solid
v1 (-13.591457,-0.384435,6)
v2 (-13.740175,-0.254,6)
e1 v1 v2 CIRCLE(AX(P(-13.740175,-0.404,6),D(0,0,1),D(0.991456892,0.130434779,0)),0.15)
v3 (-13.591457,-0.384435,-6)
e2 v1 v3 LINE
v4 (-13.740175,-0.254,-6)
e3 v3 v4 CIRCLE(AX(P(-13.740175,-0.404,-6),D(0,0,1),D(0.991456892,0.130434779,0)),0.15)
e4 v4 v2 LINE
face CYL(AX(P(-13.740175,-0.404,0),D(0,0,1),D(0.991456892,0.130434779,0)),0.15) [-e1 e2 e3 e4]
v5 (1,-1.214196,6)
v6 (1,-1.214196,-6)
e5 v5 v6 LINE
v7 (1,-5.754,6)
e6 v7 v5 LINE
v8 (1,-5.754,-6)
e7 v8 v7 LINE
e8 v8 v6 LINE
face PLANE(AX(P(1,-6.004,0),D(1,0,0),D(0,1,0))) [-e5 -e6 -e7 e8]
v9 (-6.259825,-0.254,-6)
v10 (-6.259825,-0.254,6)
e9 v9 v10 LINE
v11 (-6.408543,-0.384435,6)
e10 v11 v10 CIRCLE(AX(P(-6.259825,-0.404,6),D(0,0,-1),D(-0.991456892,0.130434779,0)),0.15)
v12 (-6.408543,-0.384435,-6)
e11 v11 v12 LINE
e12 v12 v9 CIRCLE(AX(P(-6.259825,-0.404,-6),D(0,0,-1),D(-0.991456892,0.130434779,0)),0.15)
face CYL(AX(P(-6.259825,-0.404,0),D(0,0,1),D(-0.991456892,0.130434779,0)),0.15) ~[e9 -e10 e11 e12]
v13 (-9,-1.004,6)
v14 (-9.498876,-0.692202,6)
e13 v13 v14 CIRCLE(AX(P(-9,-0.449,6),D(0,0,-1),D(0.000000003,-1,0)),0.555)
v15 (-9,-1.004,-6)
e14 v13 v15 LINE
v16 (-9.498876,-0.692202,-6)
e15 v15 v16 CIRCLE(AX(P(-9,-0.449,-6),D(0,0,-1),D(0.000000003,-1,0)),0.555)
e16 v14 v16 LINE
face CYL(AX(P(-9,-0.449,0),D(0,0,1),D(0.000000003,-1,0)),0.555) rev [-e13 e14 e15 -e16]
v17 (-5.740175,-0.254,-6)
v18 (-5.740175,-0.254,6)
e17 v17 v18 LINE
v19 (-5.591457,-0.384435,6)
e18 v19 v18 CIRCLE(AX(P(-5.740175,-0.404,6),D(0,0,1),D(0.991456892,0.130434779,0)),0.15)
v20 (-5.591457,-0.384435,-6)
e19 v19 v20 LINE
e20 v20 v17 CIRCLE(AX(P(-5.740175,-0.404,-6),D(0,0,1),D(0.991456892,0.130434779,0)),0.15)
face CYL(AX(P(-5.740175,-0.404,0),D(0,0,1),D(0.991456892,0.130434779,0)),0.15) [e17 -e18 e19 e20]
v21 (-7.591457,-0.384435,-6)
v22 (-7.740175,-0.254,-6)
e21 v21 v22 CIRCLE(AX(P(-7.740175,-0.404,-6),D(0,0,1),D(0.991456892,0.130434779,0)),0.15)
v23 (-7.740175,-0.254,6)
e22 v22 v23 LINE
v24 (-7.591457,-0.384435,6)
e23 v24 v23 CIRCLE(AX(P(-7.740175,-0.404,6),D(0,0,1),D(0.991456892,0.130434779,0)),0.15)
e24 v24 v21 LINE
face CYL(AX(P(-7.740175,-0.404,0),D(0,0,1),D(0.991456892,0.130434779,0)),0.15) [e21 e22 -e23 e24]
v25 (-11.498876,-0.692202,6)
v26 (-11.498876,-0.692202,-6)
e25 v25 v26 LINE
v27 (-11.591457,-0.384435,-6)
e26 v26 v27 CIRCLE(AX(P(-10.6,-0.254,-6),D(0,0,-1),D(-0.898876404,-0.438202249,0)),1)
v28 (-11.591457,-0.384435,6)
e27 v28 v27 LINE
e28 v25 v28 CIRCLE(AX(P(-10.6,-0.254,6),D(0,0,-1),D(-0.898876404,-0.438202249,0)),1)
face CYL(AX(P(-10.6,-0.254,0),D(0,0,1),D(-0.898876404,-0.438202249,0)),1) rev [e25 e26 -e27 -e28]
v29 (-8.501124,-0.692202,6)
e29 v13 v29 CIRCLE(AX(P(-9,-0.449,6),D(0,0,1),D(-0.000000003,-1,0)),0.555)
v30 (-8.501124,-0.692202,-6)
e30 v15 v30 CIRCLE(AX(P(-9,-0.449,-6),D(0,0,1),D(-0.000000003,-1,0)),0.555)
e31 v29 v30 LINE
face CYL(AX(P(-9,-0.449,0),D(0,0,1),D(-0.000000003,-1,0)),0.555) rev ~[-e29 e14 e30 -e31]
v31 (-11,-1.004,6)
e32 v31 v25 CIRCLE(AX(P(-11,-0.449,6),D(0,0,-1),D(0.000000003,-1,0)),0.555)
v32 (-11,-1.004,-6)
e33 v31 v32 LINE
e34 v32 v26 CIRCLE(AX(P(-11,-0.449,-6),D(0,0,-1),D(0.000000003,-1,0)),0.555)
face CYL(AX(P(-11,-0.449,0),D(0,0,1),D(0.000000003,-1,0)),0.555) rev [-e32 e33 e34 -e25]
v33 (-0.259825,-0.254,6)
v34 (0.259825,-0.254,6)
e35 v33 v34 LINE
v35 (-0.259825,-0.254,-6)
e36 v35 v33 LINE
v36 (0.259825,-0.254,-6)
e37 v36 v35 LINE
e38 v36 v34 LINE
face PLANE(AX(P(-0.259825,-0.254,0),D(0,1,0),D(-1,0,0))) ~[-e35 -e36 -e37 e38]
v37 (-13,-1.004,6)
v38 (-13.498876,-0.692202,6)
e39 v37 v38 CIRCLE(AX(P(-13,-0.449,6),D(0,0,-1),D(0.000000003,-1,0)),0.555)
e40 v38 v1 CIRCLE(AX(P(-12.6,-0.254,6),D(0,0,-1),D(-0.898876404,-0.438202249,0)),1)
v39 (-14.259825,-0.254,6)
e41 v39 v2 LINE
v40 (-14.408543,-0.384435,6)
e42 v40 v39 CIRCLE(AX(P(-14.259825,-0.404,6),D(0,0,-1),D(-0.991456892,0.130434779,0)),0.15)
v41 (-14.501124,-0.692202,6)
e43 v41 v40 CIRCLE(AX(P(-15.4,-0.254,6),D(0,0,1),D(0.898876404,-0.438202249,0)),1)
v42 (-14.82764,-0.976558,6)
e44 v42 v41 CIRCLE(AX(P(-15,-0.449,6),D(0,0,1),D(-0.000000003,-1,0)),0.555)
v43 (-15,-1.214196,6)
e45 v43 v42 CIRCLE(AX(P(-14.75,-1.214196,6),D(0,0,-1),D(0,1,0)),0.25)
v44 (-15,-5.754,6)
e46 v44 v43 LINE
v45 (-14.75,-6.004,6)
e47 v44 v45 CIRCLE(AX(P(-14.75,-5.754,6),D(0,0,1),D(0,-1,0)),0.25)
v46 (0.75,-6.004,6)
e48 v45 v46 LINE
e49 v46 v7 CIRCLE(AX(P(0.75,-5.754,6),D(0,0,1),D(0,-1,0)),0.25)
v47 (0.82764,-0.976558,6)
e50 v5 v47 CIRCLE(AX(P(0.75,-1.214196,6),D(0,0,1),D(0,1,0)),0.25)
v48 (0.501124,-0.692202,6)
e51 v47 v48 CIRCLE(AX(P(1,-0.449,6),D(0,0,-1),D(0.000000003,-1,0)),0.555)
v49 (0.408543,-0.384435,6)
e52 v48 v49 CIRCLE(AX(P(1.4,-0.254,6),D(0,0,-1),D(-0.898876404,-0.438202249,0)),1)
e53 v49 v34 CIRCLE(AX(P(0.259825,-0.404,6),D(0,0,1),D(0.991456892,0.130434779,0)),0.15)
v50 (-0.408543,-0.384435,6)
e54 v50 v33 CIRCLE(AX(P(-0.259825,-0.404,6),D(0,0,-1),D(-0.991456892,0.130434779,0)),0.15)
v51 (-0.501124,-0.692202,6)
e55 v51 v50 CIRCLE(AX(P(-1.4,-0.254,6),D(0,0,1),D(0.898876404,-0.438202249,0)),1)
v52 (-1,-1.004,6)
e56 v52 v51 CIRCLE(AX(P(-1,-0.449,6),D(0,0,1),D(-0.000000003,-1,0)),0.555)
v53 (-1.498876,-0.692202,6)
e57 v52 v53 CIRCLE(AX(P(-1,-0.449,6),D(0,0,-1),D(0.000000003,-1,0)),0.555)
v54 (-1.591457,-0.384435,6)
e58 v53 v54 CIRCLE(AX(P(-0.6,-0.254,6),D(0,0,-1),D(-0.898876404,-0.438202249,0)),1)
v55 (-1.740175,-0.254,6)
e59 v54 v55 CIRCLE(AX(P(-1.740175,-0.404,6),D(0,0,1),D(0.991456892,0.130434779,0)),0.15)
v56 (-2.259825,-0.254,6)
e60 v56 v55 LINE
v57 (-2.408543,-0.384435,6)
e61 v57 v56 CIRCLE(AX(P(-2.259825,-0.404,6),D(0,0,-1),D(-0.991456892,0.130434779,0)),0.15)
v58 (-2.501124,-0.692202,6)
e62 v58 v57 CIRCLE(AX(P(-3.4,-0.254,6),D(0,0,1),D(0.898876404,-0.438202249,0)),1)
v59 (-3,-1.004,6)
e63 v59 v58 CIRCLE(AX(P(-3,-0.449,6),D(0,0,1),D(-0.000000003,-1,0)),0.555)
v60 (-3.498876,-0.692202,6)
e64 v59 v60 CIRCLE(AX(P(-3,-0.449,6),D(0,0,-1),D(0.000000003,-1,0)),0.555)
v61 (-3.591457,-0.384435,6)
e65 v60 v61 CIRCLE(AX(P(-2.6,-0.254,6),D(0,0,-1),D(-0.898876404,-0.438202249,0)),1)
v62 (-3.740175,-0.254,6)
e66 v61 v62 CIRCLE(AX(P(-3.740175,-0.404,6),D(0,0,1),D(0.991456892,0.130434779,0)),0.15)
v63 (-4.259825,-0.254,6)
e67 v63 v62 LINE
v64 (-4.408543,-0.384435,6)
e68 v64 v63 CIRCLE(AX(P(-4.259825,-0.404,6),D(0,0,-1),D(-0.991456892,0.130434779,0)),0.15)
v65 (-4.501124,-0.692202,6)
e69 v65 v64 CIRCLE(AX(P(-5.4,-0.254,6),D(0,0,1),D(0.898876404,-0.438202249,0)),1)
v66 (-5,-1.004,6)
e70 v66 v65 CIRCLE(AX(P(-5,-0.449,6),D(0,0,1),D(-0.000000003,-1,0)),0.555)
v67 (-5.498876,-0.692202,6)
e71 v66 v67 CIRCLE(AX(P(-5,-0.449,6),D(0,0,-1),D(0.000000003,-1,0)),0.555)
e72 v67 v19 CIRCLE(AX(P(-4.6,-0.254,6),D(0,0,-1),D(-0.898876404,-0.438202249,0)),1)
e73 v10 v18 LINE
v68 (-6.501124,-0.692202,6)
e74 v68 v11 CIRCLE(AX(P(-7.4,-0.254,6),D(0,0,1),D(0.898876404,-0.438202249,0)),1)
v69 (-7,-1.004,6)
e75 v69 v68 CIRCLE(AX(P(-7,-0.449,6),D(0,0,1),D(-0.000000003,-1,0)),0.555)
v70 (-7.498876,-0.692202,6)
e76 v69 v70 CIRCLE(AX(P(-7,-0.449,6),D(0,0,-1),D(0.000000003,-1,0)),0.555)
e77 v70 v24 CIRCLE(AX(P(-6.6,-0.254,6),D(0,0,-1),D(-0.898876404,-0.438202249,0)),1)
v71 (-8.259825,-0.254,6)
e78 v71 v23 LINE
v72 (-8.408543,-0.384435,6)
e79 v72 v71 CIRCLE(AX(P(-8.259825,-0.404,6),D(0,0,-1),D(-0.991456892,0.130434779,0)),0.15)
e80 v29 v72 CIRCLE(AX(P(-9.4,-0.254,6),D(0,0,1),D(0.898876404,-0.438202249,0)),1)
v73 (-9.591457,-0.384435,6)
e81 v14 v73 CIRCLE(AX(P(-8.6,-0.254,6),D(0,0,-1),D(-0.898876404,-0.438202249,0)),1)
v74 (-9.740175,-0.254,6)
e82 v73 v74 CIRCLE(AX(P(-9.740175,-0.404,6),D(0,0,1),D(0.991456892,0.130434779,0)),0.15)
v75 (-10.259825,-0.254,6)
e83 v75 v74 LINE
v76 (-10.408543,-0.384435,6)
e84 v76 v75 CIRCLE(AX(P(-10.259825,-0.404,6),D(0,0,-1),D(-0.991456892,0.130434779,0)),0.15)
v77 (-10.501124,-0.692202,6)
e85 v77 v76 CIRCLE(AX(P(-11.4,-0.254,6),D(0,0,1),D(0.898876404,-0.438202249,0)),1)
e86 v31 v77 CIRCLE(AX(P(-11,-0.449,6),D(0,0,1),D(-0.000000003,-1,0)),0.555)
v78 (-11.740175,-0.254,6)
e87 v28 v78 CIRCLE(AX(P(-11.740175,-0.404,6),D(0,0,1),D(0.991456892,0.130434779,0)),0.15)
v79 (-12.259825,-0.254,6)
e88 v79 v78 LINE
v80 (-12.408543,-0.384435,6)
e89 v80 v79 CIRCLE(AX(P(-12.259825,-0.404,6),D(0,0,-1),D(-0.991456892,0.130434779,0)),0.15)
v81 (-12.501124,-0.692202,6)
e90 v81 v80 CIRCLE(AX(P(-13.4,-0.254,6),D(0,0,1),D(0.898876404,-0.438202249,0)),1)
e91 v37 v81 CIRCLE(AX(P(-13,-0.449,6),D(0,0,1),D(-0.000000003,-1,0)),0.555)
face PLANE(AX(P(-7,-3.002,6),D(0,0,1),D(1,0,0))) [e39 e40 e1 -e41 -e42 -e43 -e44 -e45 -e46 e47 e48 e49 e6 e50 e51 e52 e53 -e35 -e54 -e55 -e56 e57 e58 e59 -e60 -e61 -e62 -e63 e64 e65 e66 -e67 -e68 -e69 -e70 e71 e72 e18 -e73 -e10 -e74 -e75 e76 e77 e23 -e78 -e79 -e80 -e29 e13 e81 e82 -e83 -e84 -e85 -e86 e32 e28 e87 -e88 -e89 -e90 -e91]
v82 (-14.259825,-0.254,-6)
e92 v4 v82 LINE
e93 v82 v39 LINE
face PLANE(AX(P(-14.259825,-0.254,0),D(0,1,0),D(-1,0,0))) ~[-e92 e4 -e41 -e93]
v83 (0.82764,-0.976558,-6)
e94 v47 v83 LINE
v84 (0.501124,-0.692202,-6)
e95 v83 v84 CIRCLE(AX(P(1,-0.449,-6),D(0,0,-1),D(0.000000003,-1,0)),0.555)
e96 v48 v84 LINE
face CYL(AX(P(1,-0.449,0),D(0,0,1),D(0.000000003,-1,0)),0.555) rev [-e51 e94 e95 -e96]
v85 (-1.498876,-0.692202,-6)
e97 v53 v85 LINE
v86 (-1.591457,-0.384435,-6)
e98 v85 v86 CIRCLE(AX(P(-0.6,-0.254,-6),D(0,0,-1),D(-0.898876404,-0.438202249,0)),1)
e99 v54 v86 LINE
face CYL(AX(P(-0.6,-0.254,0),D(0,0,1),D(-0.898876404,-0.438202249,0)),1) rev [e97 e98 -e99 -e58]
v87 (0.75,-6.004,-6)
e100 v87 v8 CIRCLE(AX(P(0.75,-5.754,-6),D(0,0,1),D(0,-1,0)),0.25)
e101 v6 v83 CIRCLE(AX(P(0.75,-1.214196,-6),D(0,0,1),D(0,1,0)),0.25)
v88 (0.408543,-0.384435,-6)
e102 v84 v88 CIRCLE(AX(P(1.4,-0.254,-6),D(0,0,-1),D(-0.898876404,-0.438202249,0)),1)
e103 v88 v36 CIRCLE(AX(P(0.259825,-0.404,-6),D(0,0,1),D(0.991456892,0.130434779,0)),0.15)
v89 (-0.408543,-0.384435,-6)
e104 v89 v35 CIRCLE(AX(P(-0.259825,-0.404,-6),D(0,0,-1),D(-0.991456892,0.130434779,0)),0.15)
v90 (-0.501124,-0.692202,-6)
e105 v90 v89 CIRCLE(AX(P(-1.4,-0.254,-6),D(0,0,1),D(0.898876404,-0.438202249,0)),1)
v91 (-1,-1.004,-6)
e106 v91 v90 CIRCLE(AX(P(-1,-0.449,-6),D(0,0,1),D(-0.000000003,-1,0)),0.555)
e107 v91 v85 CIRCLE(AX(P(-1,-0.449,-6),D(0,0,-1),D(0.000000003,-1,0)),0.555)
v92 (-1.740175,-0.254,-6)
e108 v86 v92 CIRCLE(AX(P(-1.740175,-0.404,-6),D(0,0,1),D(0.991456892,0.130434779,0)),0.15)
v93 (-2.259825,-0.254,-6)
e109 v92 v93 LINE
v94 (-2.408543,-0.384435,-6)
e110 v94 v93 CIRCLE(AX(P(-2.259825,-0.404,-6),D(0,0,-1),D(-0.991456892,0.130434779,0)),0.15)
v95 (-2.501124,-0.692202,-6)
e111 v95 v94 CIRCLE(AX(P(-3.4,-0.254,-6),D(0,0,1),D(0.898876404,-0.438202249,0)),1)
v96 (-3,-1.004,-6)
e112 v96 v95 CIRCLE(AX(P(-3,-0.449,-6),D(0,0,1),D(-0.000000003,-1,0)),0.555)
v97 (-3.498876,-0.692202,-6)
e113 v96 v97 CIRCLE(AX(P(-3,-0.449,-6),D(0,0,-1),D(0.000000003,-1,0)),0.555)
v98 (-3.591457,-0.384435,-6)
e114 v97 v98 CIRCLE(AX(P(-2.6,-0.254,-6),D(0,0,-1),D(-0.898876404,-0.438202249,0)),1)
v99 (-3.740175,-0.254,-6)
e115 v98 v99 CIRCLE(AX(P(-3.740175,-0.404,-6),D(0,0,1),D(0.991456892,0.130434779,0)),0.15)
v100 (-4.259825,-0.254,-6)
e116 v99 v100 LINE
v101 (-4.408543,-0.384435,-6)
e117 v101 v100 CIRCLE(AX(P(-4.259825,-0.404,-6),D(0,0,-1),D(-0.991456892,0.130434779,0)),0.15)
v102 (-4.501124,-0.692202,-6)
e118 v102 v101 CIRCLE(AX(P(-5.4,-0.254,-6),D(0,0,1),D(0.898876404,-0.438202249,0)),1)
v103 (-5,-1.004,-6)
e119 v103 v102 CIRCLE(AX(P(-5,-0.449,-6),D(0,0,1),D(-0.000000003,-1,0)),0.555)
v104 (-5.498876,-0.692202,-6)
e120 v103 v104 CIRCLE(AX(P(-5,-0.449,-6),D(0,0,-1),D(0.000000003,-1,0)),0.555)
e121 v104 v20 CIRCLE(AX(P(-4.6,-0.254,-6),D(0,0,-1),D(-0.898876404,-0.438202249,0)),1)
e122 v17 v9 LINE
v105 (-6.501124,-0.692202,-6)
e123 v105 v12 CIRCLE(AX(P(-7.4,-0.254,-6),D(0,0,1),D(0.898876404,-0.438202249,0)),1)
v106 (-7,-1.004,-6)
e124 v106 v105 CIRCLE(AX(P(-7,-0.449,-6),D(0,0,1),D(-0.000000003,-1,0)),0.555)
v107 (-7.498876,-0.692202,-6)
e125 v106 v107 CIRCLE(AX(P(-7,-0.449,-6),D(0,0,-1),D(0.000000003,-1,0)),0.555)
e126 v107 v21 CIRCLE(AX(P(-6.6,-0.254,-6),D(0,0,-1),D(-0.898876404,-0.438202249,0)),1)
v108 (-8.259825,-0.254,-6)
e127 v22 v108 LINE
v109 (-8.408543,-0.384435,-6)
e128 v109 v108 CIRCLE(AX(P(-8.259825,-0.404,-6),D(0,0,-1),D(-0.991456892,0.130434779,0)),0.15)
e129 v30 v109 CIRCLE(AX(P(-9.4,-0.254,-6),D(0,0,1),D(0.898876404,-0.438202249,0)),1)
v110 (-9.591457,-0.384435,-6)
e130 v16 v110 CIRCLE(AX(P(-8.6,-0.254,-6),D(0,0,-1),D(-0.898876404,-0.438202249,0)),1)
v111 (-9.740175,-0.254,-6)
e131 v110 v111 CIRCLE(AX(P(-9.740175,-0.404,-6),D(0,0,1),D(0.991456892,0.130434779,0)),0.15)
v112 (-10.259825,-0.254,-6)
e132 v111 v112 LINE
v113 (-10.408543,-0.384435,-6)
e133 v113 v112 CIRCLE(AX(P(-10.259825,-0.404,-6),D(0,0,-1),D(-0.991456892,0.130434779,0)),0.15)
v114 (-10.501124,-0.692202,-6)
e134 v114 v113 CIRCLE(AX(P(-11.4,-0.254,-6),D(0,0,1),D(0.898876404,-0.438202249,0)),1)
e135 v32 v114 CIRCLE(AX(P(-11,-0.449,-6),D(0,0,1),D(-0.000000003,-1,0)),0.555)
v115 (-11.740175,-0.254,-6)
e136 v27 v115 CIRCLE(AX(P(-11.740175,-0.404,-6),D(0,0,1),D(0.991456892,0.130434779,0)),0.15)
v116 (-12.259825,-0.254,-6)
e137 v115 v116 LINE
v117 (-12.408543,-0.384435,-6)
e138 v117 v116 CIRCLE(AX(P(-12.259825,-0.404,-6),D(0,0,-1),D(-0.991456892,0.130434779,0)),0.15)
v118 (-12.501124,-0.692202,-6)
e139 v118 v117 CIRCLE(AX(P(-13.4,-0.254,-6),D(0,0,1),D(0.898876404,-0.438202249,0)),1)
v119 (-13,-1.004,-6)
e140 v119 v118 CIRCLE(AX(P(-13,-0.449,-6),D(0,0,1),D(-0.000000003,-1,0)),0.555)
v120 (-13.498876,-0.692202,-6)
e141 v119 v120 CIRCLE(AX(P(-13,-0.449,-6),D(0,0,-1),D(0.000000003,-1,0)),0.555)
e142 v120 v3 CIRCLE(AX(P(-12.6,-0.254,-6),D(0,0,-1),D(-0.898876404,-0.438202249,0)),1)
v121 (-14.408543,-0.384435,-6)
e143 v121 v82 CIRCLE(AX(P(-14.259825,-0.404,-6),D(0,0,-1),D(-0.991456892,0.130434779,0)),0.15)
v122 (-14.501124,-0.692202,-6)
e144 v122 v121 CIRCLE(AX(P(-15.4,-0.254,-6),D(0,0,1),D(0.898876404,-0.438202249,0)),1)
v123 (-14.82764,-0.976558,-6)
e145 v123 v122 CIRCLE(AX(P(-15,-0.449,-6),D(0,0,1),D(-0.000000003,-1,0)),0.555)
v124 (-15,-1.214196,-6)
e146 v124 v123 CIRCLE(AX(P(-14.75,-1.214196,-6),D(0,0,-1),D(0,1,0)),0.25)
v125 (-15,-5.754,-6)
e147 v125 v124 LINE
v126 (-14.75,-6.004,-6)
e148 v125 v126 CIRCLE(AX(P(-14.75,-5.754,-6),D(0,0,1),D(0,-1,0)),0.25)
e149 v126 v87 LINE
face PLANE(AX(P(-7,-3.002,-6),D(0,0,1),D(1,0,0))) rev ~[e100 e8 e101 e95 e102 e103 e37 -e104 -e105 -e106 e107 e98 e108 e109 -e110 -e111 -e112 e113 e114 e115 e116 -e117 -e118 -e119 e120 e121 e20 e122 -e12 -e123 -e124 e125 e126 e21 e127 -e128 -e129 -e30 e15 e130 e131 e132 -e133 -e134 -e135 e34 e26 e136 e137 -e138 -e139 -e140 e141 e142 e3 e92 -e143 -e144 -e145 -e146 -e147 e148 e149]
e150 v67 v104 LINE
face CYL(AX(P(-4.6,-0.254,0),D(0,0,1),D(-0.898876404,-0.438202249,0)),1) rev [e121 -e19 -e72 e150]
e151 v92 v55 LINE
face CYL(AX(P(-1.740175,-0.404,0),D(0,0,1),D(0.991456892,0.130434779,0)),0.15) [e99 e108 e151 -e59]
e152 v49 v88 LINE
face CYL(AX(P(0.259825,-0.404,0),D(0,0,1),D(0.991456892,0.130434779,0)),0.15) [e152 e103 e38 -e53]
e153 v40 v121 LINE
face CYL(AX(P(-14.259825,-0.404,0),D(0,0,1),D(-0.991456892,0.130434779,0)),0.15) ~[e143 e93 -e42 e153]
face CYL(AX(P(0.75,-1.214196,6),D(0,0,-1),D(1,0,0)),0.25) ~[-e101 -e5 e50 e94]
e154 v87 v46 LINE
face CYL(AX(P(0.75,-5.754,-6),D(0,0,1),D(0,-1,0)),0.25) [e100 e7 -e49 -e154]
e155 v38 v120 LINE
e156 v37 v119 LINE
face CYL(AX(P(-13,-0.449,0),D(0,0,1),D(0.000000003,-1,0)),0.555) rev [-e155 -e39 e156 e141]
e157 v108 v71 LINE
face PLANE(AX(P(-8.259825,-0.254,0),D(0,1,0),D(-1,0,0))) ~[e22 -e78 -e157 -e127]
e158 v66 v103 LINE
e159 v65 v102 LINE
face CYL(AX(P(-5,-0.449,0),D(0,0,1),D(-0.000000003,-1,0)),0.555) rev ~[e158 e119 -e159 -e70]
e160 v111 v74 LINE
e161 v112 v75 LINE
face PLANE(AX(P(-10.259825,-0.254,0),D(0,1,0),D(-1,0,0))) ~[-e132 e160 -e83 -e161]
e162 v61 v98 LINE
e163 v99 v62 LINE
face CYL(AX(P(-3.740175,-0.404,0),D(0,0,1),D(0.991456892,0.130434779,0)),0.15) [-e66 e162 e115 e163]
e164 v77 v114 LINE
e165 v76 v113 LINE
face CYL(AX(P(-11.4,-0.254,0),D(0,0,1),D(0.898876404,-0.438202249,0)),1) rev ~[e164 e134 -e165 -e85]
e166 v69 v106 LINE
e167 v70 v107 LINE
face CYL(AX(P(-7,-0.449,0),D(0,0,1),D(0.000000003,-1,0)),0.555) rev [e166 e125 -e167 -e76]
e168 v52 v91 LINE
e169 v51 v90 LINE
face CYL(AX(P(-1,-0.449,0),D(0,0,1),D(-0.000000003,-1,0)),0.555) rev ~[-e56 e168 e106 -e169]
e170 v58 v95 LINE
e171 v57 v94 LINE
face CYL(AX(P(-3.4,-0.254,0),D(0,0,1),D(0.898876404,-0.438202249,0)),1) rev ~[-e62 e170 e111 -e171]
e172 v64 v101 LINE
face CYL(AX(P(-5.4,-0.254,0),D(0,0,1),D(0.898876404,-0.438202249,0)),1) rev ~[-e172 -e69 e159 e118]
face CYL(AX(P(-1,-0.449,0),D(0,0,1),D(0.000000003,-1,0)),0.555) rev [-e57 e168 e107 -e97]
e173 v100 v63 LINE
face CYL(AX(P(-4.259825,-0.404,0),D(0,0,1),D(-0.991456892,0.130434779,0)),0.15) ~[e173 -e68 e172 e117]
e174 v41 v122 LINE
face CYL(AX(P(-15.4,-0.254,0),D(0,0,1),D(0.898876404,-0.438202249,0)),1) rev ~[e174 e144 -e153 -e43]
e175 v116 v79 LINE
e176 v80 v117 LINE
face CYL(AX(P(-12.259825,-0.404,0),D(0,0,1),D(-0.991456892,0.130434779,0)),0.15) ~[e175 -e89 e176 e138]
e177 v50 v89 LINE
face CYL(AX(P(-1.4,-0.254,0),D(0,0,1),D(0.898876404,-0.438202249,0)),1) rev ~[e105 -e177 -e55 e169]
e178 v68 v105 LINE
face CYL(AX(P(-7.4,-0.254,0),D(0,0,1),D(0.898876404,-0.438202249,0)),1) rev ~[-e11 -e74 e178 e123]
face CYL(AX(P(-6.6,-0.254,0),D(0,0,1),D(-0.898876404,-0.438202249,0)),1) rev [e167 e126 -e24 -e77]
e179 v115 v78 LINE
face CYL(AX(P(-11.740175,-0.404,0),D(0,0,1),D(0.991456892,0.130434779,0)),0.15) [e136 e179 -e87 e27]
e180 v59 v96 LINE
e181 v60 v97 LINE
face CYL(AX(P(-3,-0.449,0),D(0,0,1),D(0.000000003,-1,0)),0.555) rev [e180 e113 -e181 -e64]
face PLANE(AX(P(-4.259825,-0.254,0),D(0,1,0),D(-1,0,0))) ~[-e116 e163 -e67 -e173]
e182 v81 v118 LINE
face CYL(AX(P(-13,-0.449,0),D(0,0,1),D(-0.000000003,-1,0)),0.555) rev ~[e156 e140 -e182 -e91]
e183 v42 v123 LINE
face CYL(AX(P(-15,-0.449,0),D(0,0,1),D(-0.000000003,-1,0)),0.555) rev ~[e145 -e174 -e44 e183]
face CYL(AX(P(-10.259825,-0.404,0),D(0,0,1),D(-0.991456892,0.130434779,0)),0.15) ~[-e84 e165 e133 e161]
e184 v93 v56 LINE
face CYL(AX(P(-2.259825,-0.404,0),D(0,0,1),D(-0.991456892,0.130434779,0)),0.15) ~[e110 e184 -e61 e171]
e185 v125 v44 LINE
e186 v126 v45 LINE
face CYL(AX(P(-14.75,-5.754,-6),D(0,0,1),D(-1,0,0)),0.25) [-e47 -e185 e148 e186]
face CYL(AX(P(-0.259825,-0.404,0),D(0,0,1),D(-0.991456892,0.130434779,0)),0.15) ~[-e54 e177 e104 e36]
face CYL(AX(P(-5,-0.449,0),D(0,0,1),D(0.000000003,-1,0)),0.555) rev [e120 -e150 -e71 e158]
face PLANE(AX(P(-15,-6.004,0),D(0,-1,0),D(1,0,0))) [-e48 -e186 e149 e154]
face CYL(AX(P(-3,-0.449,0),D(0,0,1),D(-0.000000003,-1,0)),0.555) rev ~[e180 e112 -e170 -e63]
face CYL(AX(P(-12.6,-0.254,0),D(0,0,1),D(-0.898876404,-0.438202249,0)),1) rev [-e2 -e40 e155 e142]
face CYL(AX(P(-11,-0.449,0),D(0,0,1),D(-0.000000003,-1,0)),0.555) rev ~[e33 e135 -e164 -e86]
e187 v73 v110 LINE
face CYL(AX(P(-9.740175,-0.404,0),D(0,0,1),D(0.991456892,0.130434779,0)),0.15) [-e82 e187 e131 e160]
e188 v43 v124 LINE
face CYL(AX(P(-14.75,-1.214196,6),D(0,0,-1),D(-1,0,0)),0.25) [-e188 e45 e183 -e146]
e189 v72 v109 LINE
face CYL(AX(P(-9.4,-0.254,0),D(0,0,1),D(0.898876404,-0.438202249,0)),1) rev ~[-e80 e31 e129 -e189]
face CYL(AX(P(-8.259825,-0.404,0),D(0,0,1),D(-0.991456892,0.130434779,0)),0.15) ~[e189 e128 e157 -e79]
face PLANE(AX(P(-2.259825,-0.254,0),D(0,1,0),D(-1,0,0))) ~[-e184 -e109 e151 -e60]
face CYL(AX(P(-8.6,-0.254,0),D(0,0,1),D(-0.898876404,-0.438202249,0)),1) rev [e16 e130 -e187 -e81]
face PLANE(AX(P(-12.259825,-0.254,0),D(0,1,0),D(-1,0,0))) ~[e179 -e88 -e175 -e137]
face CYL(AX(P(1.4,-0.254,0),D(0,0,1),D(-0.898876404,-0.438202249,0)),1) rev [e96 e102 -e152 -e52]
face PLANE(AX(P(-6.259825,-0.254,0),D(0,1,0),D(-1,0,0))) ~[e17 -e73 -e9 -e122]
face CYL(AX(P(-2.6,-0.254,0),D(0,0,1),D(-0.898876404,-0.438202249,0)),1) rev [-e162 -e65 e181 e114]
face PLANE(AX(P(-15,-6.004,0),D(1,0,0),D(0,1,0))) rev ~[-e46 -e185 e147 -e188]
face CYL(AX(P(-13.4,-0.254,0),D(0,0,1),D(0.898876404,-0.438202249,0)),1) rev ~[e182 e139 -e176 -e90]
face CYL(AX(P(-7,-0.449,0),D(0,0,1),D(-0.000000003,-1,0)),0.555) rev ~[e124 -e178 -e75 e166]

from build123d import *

# Parameters (mm, degrees)
BOSS_EXTRUDE1_DEPTH = 6
LPATTERN1_COUNT     = 8
LPATTERN1_PITCH     = 2
SKETCH4_W           = 16
SKETCH4_H           = 6.004
BOSS_EXTRUDE3_DEPTH = 6
FILLET1_R           = 0.25


with BuildPart() as part:
    # Sketch1 → Boss-Extrude1 (new, symmetric)
    with BuildSketch(Plane.XY):
        with BuildLine():
            Line((0, 0), (1, 0))
            Line((1, 0), (1, -1.004))
            ThreePointArc((1, -1.004), (0.705850588, -0.919639059), (0.501123596, -0.692202247))
            ThreePointArc((0.501123596, -0.692202247), (0.442388286, -0.542062154), (0.408543109, -0.384434783))
            ThreePointArc((0.408543109, -0.384434783), (0.358731646, -0.291228588), (0.259824575, -0.254))
            Line((0.259824575, -0.254), (0, -0.254))
            Line((0, -0.254), (0, 0))
        make_face()
    extrude(amount=BOSS_EXTRUDE1_DEPTH, both=True)

    # Mirror1: part across plane


with BuildPart() as part_1:
    add(part.part)
    add(part.part.mirror(Plane(origin=(0, 0, 6), x_dir=(0, 0, 1), z_dir=(1, 0, 0))))


with BuildPart() as lpattern1_1:
    # LPattern1: pattern copy
    add(part_1.part.moved(Location(Vector(-1, 0, 0) * (1 * LPATTERN1_PITCH))))


with BuildPart() as lpattern1_2:
    # LPattern1: pattern copy
    add(part_1.part.moved(Location(Vector(-1, 0, 0) * (2 * LPATTERN1_PITCH))))


with BuildPart() as lpattern1_3:
    # LPattern1: pattern copy
    add(part_1.part.moved(Location(Vector(-1, 0, 0) * (3 * LPATTERN1_PITCH))))


with BuildPart() as lpattern1_4:
    # LPattern1: pattern copy
    add(part_1.part.moved(Location(Vector(-1, 0, 0) * (4 * LPATTERN1_PITCH))))


with BuildPart() as lpattern1_5:
    # LPattern1: pattern copy
    add(part_1.part.moved(Location(Vector(-1, 0, 0) * (5 * LPATTERN1_PITCH))))


with BuildPart() as lpattern1_6:
    # LPattern1: pattern copy
    add(part_1.part.moved(Location(Vector(-1, 0, 0) * (6 * LPATTERN1_PITCH))))


with BuildPart() as lpattern1_7:
    # LPattern1: pattern copy
    add(part_1.part.moved(Location(Vector(-1, 0, 0) * (7 * LPATTERN1_PITCH))))


with BuildPart() as lpattern1_1_1:
    add(lpattern1_1.part)

    # Combine1: union LPattern1_4, part, LPattern1_3, LPattern1_2, LPattern1_5, LPattern1_6, LPattern1_7
    add(lpattern1_4.part)
    add(part_1.part)
    add(lpattern1_3.part)
    add(lpattern1_2.part)
    add(lpattern1_5.part)
    add(lpattern1_6.part)
    add(lpattern1_7.part)


with BuildPart() as body_2:
    # Sketch4 → Boss-Extrude3 (new, symmetric)
    with BuildSketch(Plane.XY):
        with Locations((-7, -3.002)):
            Rectangle(SKETCH4_W, SKETCH4_H)
    extrude(amount=BOSS_EXTRUDE3_DEPTH, both=True)

    # Combine2: cut LPattern1_1
    add(lpattern1_1_1.part, mode=Mode.SUBTRACT)

    # Fillet1
    fillet1_edges = [body_2.edges().sort_by_distance(p)[0] for p in [
        (-15, -1.004, 0),
        (1, -1.004, 0),
        (1, -6.004, 0),
        (-15, -6.004, 0),
    ]]
    fillet(fillet1_edges, radius=FILLET1_R)


solid = body_2.part
